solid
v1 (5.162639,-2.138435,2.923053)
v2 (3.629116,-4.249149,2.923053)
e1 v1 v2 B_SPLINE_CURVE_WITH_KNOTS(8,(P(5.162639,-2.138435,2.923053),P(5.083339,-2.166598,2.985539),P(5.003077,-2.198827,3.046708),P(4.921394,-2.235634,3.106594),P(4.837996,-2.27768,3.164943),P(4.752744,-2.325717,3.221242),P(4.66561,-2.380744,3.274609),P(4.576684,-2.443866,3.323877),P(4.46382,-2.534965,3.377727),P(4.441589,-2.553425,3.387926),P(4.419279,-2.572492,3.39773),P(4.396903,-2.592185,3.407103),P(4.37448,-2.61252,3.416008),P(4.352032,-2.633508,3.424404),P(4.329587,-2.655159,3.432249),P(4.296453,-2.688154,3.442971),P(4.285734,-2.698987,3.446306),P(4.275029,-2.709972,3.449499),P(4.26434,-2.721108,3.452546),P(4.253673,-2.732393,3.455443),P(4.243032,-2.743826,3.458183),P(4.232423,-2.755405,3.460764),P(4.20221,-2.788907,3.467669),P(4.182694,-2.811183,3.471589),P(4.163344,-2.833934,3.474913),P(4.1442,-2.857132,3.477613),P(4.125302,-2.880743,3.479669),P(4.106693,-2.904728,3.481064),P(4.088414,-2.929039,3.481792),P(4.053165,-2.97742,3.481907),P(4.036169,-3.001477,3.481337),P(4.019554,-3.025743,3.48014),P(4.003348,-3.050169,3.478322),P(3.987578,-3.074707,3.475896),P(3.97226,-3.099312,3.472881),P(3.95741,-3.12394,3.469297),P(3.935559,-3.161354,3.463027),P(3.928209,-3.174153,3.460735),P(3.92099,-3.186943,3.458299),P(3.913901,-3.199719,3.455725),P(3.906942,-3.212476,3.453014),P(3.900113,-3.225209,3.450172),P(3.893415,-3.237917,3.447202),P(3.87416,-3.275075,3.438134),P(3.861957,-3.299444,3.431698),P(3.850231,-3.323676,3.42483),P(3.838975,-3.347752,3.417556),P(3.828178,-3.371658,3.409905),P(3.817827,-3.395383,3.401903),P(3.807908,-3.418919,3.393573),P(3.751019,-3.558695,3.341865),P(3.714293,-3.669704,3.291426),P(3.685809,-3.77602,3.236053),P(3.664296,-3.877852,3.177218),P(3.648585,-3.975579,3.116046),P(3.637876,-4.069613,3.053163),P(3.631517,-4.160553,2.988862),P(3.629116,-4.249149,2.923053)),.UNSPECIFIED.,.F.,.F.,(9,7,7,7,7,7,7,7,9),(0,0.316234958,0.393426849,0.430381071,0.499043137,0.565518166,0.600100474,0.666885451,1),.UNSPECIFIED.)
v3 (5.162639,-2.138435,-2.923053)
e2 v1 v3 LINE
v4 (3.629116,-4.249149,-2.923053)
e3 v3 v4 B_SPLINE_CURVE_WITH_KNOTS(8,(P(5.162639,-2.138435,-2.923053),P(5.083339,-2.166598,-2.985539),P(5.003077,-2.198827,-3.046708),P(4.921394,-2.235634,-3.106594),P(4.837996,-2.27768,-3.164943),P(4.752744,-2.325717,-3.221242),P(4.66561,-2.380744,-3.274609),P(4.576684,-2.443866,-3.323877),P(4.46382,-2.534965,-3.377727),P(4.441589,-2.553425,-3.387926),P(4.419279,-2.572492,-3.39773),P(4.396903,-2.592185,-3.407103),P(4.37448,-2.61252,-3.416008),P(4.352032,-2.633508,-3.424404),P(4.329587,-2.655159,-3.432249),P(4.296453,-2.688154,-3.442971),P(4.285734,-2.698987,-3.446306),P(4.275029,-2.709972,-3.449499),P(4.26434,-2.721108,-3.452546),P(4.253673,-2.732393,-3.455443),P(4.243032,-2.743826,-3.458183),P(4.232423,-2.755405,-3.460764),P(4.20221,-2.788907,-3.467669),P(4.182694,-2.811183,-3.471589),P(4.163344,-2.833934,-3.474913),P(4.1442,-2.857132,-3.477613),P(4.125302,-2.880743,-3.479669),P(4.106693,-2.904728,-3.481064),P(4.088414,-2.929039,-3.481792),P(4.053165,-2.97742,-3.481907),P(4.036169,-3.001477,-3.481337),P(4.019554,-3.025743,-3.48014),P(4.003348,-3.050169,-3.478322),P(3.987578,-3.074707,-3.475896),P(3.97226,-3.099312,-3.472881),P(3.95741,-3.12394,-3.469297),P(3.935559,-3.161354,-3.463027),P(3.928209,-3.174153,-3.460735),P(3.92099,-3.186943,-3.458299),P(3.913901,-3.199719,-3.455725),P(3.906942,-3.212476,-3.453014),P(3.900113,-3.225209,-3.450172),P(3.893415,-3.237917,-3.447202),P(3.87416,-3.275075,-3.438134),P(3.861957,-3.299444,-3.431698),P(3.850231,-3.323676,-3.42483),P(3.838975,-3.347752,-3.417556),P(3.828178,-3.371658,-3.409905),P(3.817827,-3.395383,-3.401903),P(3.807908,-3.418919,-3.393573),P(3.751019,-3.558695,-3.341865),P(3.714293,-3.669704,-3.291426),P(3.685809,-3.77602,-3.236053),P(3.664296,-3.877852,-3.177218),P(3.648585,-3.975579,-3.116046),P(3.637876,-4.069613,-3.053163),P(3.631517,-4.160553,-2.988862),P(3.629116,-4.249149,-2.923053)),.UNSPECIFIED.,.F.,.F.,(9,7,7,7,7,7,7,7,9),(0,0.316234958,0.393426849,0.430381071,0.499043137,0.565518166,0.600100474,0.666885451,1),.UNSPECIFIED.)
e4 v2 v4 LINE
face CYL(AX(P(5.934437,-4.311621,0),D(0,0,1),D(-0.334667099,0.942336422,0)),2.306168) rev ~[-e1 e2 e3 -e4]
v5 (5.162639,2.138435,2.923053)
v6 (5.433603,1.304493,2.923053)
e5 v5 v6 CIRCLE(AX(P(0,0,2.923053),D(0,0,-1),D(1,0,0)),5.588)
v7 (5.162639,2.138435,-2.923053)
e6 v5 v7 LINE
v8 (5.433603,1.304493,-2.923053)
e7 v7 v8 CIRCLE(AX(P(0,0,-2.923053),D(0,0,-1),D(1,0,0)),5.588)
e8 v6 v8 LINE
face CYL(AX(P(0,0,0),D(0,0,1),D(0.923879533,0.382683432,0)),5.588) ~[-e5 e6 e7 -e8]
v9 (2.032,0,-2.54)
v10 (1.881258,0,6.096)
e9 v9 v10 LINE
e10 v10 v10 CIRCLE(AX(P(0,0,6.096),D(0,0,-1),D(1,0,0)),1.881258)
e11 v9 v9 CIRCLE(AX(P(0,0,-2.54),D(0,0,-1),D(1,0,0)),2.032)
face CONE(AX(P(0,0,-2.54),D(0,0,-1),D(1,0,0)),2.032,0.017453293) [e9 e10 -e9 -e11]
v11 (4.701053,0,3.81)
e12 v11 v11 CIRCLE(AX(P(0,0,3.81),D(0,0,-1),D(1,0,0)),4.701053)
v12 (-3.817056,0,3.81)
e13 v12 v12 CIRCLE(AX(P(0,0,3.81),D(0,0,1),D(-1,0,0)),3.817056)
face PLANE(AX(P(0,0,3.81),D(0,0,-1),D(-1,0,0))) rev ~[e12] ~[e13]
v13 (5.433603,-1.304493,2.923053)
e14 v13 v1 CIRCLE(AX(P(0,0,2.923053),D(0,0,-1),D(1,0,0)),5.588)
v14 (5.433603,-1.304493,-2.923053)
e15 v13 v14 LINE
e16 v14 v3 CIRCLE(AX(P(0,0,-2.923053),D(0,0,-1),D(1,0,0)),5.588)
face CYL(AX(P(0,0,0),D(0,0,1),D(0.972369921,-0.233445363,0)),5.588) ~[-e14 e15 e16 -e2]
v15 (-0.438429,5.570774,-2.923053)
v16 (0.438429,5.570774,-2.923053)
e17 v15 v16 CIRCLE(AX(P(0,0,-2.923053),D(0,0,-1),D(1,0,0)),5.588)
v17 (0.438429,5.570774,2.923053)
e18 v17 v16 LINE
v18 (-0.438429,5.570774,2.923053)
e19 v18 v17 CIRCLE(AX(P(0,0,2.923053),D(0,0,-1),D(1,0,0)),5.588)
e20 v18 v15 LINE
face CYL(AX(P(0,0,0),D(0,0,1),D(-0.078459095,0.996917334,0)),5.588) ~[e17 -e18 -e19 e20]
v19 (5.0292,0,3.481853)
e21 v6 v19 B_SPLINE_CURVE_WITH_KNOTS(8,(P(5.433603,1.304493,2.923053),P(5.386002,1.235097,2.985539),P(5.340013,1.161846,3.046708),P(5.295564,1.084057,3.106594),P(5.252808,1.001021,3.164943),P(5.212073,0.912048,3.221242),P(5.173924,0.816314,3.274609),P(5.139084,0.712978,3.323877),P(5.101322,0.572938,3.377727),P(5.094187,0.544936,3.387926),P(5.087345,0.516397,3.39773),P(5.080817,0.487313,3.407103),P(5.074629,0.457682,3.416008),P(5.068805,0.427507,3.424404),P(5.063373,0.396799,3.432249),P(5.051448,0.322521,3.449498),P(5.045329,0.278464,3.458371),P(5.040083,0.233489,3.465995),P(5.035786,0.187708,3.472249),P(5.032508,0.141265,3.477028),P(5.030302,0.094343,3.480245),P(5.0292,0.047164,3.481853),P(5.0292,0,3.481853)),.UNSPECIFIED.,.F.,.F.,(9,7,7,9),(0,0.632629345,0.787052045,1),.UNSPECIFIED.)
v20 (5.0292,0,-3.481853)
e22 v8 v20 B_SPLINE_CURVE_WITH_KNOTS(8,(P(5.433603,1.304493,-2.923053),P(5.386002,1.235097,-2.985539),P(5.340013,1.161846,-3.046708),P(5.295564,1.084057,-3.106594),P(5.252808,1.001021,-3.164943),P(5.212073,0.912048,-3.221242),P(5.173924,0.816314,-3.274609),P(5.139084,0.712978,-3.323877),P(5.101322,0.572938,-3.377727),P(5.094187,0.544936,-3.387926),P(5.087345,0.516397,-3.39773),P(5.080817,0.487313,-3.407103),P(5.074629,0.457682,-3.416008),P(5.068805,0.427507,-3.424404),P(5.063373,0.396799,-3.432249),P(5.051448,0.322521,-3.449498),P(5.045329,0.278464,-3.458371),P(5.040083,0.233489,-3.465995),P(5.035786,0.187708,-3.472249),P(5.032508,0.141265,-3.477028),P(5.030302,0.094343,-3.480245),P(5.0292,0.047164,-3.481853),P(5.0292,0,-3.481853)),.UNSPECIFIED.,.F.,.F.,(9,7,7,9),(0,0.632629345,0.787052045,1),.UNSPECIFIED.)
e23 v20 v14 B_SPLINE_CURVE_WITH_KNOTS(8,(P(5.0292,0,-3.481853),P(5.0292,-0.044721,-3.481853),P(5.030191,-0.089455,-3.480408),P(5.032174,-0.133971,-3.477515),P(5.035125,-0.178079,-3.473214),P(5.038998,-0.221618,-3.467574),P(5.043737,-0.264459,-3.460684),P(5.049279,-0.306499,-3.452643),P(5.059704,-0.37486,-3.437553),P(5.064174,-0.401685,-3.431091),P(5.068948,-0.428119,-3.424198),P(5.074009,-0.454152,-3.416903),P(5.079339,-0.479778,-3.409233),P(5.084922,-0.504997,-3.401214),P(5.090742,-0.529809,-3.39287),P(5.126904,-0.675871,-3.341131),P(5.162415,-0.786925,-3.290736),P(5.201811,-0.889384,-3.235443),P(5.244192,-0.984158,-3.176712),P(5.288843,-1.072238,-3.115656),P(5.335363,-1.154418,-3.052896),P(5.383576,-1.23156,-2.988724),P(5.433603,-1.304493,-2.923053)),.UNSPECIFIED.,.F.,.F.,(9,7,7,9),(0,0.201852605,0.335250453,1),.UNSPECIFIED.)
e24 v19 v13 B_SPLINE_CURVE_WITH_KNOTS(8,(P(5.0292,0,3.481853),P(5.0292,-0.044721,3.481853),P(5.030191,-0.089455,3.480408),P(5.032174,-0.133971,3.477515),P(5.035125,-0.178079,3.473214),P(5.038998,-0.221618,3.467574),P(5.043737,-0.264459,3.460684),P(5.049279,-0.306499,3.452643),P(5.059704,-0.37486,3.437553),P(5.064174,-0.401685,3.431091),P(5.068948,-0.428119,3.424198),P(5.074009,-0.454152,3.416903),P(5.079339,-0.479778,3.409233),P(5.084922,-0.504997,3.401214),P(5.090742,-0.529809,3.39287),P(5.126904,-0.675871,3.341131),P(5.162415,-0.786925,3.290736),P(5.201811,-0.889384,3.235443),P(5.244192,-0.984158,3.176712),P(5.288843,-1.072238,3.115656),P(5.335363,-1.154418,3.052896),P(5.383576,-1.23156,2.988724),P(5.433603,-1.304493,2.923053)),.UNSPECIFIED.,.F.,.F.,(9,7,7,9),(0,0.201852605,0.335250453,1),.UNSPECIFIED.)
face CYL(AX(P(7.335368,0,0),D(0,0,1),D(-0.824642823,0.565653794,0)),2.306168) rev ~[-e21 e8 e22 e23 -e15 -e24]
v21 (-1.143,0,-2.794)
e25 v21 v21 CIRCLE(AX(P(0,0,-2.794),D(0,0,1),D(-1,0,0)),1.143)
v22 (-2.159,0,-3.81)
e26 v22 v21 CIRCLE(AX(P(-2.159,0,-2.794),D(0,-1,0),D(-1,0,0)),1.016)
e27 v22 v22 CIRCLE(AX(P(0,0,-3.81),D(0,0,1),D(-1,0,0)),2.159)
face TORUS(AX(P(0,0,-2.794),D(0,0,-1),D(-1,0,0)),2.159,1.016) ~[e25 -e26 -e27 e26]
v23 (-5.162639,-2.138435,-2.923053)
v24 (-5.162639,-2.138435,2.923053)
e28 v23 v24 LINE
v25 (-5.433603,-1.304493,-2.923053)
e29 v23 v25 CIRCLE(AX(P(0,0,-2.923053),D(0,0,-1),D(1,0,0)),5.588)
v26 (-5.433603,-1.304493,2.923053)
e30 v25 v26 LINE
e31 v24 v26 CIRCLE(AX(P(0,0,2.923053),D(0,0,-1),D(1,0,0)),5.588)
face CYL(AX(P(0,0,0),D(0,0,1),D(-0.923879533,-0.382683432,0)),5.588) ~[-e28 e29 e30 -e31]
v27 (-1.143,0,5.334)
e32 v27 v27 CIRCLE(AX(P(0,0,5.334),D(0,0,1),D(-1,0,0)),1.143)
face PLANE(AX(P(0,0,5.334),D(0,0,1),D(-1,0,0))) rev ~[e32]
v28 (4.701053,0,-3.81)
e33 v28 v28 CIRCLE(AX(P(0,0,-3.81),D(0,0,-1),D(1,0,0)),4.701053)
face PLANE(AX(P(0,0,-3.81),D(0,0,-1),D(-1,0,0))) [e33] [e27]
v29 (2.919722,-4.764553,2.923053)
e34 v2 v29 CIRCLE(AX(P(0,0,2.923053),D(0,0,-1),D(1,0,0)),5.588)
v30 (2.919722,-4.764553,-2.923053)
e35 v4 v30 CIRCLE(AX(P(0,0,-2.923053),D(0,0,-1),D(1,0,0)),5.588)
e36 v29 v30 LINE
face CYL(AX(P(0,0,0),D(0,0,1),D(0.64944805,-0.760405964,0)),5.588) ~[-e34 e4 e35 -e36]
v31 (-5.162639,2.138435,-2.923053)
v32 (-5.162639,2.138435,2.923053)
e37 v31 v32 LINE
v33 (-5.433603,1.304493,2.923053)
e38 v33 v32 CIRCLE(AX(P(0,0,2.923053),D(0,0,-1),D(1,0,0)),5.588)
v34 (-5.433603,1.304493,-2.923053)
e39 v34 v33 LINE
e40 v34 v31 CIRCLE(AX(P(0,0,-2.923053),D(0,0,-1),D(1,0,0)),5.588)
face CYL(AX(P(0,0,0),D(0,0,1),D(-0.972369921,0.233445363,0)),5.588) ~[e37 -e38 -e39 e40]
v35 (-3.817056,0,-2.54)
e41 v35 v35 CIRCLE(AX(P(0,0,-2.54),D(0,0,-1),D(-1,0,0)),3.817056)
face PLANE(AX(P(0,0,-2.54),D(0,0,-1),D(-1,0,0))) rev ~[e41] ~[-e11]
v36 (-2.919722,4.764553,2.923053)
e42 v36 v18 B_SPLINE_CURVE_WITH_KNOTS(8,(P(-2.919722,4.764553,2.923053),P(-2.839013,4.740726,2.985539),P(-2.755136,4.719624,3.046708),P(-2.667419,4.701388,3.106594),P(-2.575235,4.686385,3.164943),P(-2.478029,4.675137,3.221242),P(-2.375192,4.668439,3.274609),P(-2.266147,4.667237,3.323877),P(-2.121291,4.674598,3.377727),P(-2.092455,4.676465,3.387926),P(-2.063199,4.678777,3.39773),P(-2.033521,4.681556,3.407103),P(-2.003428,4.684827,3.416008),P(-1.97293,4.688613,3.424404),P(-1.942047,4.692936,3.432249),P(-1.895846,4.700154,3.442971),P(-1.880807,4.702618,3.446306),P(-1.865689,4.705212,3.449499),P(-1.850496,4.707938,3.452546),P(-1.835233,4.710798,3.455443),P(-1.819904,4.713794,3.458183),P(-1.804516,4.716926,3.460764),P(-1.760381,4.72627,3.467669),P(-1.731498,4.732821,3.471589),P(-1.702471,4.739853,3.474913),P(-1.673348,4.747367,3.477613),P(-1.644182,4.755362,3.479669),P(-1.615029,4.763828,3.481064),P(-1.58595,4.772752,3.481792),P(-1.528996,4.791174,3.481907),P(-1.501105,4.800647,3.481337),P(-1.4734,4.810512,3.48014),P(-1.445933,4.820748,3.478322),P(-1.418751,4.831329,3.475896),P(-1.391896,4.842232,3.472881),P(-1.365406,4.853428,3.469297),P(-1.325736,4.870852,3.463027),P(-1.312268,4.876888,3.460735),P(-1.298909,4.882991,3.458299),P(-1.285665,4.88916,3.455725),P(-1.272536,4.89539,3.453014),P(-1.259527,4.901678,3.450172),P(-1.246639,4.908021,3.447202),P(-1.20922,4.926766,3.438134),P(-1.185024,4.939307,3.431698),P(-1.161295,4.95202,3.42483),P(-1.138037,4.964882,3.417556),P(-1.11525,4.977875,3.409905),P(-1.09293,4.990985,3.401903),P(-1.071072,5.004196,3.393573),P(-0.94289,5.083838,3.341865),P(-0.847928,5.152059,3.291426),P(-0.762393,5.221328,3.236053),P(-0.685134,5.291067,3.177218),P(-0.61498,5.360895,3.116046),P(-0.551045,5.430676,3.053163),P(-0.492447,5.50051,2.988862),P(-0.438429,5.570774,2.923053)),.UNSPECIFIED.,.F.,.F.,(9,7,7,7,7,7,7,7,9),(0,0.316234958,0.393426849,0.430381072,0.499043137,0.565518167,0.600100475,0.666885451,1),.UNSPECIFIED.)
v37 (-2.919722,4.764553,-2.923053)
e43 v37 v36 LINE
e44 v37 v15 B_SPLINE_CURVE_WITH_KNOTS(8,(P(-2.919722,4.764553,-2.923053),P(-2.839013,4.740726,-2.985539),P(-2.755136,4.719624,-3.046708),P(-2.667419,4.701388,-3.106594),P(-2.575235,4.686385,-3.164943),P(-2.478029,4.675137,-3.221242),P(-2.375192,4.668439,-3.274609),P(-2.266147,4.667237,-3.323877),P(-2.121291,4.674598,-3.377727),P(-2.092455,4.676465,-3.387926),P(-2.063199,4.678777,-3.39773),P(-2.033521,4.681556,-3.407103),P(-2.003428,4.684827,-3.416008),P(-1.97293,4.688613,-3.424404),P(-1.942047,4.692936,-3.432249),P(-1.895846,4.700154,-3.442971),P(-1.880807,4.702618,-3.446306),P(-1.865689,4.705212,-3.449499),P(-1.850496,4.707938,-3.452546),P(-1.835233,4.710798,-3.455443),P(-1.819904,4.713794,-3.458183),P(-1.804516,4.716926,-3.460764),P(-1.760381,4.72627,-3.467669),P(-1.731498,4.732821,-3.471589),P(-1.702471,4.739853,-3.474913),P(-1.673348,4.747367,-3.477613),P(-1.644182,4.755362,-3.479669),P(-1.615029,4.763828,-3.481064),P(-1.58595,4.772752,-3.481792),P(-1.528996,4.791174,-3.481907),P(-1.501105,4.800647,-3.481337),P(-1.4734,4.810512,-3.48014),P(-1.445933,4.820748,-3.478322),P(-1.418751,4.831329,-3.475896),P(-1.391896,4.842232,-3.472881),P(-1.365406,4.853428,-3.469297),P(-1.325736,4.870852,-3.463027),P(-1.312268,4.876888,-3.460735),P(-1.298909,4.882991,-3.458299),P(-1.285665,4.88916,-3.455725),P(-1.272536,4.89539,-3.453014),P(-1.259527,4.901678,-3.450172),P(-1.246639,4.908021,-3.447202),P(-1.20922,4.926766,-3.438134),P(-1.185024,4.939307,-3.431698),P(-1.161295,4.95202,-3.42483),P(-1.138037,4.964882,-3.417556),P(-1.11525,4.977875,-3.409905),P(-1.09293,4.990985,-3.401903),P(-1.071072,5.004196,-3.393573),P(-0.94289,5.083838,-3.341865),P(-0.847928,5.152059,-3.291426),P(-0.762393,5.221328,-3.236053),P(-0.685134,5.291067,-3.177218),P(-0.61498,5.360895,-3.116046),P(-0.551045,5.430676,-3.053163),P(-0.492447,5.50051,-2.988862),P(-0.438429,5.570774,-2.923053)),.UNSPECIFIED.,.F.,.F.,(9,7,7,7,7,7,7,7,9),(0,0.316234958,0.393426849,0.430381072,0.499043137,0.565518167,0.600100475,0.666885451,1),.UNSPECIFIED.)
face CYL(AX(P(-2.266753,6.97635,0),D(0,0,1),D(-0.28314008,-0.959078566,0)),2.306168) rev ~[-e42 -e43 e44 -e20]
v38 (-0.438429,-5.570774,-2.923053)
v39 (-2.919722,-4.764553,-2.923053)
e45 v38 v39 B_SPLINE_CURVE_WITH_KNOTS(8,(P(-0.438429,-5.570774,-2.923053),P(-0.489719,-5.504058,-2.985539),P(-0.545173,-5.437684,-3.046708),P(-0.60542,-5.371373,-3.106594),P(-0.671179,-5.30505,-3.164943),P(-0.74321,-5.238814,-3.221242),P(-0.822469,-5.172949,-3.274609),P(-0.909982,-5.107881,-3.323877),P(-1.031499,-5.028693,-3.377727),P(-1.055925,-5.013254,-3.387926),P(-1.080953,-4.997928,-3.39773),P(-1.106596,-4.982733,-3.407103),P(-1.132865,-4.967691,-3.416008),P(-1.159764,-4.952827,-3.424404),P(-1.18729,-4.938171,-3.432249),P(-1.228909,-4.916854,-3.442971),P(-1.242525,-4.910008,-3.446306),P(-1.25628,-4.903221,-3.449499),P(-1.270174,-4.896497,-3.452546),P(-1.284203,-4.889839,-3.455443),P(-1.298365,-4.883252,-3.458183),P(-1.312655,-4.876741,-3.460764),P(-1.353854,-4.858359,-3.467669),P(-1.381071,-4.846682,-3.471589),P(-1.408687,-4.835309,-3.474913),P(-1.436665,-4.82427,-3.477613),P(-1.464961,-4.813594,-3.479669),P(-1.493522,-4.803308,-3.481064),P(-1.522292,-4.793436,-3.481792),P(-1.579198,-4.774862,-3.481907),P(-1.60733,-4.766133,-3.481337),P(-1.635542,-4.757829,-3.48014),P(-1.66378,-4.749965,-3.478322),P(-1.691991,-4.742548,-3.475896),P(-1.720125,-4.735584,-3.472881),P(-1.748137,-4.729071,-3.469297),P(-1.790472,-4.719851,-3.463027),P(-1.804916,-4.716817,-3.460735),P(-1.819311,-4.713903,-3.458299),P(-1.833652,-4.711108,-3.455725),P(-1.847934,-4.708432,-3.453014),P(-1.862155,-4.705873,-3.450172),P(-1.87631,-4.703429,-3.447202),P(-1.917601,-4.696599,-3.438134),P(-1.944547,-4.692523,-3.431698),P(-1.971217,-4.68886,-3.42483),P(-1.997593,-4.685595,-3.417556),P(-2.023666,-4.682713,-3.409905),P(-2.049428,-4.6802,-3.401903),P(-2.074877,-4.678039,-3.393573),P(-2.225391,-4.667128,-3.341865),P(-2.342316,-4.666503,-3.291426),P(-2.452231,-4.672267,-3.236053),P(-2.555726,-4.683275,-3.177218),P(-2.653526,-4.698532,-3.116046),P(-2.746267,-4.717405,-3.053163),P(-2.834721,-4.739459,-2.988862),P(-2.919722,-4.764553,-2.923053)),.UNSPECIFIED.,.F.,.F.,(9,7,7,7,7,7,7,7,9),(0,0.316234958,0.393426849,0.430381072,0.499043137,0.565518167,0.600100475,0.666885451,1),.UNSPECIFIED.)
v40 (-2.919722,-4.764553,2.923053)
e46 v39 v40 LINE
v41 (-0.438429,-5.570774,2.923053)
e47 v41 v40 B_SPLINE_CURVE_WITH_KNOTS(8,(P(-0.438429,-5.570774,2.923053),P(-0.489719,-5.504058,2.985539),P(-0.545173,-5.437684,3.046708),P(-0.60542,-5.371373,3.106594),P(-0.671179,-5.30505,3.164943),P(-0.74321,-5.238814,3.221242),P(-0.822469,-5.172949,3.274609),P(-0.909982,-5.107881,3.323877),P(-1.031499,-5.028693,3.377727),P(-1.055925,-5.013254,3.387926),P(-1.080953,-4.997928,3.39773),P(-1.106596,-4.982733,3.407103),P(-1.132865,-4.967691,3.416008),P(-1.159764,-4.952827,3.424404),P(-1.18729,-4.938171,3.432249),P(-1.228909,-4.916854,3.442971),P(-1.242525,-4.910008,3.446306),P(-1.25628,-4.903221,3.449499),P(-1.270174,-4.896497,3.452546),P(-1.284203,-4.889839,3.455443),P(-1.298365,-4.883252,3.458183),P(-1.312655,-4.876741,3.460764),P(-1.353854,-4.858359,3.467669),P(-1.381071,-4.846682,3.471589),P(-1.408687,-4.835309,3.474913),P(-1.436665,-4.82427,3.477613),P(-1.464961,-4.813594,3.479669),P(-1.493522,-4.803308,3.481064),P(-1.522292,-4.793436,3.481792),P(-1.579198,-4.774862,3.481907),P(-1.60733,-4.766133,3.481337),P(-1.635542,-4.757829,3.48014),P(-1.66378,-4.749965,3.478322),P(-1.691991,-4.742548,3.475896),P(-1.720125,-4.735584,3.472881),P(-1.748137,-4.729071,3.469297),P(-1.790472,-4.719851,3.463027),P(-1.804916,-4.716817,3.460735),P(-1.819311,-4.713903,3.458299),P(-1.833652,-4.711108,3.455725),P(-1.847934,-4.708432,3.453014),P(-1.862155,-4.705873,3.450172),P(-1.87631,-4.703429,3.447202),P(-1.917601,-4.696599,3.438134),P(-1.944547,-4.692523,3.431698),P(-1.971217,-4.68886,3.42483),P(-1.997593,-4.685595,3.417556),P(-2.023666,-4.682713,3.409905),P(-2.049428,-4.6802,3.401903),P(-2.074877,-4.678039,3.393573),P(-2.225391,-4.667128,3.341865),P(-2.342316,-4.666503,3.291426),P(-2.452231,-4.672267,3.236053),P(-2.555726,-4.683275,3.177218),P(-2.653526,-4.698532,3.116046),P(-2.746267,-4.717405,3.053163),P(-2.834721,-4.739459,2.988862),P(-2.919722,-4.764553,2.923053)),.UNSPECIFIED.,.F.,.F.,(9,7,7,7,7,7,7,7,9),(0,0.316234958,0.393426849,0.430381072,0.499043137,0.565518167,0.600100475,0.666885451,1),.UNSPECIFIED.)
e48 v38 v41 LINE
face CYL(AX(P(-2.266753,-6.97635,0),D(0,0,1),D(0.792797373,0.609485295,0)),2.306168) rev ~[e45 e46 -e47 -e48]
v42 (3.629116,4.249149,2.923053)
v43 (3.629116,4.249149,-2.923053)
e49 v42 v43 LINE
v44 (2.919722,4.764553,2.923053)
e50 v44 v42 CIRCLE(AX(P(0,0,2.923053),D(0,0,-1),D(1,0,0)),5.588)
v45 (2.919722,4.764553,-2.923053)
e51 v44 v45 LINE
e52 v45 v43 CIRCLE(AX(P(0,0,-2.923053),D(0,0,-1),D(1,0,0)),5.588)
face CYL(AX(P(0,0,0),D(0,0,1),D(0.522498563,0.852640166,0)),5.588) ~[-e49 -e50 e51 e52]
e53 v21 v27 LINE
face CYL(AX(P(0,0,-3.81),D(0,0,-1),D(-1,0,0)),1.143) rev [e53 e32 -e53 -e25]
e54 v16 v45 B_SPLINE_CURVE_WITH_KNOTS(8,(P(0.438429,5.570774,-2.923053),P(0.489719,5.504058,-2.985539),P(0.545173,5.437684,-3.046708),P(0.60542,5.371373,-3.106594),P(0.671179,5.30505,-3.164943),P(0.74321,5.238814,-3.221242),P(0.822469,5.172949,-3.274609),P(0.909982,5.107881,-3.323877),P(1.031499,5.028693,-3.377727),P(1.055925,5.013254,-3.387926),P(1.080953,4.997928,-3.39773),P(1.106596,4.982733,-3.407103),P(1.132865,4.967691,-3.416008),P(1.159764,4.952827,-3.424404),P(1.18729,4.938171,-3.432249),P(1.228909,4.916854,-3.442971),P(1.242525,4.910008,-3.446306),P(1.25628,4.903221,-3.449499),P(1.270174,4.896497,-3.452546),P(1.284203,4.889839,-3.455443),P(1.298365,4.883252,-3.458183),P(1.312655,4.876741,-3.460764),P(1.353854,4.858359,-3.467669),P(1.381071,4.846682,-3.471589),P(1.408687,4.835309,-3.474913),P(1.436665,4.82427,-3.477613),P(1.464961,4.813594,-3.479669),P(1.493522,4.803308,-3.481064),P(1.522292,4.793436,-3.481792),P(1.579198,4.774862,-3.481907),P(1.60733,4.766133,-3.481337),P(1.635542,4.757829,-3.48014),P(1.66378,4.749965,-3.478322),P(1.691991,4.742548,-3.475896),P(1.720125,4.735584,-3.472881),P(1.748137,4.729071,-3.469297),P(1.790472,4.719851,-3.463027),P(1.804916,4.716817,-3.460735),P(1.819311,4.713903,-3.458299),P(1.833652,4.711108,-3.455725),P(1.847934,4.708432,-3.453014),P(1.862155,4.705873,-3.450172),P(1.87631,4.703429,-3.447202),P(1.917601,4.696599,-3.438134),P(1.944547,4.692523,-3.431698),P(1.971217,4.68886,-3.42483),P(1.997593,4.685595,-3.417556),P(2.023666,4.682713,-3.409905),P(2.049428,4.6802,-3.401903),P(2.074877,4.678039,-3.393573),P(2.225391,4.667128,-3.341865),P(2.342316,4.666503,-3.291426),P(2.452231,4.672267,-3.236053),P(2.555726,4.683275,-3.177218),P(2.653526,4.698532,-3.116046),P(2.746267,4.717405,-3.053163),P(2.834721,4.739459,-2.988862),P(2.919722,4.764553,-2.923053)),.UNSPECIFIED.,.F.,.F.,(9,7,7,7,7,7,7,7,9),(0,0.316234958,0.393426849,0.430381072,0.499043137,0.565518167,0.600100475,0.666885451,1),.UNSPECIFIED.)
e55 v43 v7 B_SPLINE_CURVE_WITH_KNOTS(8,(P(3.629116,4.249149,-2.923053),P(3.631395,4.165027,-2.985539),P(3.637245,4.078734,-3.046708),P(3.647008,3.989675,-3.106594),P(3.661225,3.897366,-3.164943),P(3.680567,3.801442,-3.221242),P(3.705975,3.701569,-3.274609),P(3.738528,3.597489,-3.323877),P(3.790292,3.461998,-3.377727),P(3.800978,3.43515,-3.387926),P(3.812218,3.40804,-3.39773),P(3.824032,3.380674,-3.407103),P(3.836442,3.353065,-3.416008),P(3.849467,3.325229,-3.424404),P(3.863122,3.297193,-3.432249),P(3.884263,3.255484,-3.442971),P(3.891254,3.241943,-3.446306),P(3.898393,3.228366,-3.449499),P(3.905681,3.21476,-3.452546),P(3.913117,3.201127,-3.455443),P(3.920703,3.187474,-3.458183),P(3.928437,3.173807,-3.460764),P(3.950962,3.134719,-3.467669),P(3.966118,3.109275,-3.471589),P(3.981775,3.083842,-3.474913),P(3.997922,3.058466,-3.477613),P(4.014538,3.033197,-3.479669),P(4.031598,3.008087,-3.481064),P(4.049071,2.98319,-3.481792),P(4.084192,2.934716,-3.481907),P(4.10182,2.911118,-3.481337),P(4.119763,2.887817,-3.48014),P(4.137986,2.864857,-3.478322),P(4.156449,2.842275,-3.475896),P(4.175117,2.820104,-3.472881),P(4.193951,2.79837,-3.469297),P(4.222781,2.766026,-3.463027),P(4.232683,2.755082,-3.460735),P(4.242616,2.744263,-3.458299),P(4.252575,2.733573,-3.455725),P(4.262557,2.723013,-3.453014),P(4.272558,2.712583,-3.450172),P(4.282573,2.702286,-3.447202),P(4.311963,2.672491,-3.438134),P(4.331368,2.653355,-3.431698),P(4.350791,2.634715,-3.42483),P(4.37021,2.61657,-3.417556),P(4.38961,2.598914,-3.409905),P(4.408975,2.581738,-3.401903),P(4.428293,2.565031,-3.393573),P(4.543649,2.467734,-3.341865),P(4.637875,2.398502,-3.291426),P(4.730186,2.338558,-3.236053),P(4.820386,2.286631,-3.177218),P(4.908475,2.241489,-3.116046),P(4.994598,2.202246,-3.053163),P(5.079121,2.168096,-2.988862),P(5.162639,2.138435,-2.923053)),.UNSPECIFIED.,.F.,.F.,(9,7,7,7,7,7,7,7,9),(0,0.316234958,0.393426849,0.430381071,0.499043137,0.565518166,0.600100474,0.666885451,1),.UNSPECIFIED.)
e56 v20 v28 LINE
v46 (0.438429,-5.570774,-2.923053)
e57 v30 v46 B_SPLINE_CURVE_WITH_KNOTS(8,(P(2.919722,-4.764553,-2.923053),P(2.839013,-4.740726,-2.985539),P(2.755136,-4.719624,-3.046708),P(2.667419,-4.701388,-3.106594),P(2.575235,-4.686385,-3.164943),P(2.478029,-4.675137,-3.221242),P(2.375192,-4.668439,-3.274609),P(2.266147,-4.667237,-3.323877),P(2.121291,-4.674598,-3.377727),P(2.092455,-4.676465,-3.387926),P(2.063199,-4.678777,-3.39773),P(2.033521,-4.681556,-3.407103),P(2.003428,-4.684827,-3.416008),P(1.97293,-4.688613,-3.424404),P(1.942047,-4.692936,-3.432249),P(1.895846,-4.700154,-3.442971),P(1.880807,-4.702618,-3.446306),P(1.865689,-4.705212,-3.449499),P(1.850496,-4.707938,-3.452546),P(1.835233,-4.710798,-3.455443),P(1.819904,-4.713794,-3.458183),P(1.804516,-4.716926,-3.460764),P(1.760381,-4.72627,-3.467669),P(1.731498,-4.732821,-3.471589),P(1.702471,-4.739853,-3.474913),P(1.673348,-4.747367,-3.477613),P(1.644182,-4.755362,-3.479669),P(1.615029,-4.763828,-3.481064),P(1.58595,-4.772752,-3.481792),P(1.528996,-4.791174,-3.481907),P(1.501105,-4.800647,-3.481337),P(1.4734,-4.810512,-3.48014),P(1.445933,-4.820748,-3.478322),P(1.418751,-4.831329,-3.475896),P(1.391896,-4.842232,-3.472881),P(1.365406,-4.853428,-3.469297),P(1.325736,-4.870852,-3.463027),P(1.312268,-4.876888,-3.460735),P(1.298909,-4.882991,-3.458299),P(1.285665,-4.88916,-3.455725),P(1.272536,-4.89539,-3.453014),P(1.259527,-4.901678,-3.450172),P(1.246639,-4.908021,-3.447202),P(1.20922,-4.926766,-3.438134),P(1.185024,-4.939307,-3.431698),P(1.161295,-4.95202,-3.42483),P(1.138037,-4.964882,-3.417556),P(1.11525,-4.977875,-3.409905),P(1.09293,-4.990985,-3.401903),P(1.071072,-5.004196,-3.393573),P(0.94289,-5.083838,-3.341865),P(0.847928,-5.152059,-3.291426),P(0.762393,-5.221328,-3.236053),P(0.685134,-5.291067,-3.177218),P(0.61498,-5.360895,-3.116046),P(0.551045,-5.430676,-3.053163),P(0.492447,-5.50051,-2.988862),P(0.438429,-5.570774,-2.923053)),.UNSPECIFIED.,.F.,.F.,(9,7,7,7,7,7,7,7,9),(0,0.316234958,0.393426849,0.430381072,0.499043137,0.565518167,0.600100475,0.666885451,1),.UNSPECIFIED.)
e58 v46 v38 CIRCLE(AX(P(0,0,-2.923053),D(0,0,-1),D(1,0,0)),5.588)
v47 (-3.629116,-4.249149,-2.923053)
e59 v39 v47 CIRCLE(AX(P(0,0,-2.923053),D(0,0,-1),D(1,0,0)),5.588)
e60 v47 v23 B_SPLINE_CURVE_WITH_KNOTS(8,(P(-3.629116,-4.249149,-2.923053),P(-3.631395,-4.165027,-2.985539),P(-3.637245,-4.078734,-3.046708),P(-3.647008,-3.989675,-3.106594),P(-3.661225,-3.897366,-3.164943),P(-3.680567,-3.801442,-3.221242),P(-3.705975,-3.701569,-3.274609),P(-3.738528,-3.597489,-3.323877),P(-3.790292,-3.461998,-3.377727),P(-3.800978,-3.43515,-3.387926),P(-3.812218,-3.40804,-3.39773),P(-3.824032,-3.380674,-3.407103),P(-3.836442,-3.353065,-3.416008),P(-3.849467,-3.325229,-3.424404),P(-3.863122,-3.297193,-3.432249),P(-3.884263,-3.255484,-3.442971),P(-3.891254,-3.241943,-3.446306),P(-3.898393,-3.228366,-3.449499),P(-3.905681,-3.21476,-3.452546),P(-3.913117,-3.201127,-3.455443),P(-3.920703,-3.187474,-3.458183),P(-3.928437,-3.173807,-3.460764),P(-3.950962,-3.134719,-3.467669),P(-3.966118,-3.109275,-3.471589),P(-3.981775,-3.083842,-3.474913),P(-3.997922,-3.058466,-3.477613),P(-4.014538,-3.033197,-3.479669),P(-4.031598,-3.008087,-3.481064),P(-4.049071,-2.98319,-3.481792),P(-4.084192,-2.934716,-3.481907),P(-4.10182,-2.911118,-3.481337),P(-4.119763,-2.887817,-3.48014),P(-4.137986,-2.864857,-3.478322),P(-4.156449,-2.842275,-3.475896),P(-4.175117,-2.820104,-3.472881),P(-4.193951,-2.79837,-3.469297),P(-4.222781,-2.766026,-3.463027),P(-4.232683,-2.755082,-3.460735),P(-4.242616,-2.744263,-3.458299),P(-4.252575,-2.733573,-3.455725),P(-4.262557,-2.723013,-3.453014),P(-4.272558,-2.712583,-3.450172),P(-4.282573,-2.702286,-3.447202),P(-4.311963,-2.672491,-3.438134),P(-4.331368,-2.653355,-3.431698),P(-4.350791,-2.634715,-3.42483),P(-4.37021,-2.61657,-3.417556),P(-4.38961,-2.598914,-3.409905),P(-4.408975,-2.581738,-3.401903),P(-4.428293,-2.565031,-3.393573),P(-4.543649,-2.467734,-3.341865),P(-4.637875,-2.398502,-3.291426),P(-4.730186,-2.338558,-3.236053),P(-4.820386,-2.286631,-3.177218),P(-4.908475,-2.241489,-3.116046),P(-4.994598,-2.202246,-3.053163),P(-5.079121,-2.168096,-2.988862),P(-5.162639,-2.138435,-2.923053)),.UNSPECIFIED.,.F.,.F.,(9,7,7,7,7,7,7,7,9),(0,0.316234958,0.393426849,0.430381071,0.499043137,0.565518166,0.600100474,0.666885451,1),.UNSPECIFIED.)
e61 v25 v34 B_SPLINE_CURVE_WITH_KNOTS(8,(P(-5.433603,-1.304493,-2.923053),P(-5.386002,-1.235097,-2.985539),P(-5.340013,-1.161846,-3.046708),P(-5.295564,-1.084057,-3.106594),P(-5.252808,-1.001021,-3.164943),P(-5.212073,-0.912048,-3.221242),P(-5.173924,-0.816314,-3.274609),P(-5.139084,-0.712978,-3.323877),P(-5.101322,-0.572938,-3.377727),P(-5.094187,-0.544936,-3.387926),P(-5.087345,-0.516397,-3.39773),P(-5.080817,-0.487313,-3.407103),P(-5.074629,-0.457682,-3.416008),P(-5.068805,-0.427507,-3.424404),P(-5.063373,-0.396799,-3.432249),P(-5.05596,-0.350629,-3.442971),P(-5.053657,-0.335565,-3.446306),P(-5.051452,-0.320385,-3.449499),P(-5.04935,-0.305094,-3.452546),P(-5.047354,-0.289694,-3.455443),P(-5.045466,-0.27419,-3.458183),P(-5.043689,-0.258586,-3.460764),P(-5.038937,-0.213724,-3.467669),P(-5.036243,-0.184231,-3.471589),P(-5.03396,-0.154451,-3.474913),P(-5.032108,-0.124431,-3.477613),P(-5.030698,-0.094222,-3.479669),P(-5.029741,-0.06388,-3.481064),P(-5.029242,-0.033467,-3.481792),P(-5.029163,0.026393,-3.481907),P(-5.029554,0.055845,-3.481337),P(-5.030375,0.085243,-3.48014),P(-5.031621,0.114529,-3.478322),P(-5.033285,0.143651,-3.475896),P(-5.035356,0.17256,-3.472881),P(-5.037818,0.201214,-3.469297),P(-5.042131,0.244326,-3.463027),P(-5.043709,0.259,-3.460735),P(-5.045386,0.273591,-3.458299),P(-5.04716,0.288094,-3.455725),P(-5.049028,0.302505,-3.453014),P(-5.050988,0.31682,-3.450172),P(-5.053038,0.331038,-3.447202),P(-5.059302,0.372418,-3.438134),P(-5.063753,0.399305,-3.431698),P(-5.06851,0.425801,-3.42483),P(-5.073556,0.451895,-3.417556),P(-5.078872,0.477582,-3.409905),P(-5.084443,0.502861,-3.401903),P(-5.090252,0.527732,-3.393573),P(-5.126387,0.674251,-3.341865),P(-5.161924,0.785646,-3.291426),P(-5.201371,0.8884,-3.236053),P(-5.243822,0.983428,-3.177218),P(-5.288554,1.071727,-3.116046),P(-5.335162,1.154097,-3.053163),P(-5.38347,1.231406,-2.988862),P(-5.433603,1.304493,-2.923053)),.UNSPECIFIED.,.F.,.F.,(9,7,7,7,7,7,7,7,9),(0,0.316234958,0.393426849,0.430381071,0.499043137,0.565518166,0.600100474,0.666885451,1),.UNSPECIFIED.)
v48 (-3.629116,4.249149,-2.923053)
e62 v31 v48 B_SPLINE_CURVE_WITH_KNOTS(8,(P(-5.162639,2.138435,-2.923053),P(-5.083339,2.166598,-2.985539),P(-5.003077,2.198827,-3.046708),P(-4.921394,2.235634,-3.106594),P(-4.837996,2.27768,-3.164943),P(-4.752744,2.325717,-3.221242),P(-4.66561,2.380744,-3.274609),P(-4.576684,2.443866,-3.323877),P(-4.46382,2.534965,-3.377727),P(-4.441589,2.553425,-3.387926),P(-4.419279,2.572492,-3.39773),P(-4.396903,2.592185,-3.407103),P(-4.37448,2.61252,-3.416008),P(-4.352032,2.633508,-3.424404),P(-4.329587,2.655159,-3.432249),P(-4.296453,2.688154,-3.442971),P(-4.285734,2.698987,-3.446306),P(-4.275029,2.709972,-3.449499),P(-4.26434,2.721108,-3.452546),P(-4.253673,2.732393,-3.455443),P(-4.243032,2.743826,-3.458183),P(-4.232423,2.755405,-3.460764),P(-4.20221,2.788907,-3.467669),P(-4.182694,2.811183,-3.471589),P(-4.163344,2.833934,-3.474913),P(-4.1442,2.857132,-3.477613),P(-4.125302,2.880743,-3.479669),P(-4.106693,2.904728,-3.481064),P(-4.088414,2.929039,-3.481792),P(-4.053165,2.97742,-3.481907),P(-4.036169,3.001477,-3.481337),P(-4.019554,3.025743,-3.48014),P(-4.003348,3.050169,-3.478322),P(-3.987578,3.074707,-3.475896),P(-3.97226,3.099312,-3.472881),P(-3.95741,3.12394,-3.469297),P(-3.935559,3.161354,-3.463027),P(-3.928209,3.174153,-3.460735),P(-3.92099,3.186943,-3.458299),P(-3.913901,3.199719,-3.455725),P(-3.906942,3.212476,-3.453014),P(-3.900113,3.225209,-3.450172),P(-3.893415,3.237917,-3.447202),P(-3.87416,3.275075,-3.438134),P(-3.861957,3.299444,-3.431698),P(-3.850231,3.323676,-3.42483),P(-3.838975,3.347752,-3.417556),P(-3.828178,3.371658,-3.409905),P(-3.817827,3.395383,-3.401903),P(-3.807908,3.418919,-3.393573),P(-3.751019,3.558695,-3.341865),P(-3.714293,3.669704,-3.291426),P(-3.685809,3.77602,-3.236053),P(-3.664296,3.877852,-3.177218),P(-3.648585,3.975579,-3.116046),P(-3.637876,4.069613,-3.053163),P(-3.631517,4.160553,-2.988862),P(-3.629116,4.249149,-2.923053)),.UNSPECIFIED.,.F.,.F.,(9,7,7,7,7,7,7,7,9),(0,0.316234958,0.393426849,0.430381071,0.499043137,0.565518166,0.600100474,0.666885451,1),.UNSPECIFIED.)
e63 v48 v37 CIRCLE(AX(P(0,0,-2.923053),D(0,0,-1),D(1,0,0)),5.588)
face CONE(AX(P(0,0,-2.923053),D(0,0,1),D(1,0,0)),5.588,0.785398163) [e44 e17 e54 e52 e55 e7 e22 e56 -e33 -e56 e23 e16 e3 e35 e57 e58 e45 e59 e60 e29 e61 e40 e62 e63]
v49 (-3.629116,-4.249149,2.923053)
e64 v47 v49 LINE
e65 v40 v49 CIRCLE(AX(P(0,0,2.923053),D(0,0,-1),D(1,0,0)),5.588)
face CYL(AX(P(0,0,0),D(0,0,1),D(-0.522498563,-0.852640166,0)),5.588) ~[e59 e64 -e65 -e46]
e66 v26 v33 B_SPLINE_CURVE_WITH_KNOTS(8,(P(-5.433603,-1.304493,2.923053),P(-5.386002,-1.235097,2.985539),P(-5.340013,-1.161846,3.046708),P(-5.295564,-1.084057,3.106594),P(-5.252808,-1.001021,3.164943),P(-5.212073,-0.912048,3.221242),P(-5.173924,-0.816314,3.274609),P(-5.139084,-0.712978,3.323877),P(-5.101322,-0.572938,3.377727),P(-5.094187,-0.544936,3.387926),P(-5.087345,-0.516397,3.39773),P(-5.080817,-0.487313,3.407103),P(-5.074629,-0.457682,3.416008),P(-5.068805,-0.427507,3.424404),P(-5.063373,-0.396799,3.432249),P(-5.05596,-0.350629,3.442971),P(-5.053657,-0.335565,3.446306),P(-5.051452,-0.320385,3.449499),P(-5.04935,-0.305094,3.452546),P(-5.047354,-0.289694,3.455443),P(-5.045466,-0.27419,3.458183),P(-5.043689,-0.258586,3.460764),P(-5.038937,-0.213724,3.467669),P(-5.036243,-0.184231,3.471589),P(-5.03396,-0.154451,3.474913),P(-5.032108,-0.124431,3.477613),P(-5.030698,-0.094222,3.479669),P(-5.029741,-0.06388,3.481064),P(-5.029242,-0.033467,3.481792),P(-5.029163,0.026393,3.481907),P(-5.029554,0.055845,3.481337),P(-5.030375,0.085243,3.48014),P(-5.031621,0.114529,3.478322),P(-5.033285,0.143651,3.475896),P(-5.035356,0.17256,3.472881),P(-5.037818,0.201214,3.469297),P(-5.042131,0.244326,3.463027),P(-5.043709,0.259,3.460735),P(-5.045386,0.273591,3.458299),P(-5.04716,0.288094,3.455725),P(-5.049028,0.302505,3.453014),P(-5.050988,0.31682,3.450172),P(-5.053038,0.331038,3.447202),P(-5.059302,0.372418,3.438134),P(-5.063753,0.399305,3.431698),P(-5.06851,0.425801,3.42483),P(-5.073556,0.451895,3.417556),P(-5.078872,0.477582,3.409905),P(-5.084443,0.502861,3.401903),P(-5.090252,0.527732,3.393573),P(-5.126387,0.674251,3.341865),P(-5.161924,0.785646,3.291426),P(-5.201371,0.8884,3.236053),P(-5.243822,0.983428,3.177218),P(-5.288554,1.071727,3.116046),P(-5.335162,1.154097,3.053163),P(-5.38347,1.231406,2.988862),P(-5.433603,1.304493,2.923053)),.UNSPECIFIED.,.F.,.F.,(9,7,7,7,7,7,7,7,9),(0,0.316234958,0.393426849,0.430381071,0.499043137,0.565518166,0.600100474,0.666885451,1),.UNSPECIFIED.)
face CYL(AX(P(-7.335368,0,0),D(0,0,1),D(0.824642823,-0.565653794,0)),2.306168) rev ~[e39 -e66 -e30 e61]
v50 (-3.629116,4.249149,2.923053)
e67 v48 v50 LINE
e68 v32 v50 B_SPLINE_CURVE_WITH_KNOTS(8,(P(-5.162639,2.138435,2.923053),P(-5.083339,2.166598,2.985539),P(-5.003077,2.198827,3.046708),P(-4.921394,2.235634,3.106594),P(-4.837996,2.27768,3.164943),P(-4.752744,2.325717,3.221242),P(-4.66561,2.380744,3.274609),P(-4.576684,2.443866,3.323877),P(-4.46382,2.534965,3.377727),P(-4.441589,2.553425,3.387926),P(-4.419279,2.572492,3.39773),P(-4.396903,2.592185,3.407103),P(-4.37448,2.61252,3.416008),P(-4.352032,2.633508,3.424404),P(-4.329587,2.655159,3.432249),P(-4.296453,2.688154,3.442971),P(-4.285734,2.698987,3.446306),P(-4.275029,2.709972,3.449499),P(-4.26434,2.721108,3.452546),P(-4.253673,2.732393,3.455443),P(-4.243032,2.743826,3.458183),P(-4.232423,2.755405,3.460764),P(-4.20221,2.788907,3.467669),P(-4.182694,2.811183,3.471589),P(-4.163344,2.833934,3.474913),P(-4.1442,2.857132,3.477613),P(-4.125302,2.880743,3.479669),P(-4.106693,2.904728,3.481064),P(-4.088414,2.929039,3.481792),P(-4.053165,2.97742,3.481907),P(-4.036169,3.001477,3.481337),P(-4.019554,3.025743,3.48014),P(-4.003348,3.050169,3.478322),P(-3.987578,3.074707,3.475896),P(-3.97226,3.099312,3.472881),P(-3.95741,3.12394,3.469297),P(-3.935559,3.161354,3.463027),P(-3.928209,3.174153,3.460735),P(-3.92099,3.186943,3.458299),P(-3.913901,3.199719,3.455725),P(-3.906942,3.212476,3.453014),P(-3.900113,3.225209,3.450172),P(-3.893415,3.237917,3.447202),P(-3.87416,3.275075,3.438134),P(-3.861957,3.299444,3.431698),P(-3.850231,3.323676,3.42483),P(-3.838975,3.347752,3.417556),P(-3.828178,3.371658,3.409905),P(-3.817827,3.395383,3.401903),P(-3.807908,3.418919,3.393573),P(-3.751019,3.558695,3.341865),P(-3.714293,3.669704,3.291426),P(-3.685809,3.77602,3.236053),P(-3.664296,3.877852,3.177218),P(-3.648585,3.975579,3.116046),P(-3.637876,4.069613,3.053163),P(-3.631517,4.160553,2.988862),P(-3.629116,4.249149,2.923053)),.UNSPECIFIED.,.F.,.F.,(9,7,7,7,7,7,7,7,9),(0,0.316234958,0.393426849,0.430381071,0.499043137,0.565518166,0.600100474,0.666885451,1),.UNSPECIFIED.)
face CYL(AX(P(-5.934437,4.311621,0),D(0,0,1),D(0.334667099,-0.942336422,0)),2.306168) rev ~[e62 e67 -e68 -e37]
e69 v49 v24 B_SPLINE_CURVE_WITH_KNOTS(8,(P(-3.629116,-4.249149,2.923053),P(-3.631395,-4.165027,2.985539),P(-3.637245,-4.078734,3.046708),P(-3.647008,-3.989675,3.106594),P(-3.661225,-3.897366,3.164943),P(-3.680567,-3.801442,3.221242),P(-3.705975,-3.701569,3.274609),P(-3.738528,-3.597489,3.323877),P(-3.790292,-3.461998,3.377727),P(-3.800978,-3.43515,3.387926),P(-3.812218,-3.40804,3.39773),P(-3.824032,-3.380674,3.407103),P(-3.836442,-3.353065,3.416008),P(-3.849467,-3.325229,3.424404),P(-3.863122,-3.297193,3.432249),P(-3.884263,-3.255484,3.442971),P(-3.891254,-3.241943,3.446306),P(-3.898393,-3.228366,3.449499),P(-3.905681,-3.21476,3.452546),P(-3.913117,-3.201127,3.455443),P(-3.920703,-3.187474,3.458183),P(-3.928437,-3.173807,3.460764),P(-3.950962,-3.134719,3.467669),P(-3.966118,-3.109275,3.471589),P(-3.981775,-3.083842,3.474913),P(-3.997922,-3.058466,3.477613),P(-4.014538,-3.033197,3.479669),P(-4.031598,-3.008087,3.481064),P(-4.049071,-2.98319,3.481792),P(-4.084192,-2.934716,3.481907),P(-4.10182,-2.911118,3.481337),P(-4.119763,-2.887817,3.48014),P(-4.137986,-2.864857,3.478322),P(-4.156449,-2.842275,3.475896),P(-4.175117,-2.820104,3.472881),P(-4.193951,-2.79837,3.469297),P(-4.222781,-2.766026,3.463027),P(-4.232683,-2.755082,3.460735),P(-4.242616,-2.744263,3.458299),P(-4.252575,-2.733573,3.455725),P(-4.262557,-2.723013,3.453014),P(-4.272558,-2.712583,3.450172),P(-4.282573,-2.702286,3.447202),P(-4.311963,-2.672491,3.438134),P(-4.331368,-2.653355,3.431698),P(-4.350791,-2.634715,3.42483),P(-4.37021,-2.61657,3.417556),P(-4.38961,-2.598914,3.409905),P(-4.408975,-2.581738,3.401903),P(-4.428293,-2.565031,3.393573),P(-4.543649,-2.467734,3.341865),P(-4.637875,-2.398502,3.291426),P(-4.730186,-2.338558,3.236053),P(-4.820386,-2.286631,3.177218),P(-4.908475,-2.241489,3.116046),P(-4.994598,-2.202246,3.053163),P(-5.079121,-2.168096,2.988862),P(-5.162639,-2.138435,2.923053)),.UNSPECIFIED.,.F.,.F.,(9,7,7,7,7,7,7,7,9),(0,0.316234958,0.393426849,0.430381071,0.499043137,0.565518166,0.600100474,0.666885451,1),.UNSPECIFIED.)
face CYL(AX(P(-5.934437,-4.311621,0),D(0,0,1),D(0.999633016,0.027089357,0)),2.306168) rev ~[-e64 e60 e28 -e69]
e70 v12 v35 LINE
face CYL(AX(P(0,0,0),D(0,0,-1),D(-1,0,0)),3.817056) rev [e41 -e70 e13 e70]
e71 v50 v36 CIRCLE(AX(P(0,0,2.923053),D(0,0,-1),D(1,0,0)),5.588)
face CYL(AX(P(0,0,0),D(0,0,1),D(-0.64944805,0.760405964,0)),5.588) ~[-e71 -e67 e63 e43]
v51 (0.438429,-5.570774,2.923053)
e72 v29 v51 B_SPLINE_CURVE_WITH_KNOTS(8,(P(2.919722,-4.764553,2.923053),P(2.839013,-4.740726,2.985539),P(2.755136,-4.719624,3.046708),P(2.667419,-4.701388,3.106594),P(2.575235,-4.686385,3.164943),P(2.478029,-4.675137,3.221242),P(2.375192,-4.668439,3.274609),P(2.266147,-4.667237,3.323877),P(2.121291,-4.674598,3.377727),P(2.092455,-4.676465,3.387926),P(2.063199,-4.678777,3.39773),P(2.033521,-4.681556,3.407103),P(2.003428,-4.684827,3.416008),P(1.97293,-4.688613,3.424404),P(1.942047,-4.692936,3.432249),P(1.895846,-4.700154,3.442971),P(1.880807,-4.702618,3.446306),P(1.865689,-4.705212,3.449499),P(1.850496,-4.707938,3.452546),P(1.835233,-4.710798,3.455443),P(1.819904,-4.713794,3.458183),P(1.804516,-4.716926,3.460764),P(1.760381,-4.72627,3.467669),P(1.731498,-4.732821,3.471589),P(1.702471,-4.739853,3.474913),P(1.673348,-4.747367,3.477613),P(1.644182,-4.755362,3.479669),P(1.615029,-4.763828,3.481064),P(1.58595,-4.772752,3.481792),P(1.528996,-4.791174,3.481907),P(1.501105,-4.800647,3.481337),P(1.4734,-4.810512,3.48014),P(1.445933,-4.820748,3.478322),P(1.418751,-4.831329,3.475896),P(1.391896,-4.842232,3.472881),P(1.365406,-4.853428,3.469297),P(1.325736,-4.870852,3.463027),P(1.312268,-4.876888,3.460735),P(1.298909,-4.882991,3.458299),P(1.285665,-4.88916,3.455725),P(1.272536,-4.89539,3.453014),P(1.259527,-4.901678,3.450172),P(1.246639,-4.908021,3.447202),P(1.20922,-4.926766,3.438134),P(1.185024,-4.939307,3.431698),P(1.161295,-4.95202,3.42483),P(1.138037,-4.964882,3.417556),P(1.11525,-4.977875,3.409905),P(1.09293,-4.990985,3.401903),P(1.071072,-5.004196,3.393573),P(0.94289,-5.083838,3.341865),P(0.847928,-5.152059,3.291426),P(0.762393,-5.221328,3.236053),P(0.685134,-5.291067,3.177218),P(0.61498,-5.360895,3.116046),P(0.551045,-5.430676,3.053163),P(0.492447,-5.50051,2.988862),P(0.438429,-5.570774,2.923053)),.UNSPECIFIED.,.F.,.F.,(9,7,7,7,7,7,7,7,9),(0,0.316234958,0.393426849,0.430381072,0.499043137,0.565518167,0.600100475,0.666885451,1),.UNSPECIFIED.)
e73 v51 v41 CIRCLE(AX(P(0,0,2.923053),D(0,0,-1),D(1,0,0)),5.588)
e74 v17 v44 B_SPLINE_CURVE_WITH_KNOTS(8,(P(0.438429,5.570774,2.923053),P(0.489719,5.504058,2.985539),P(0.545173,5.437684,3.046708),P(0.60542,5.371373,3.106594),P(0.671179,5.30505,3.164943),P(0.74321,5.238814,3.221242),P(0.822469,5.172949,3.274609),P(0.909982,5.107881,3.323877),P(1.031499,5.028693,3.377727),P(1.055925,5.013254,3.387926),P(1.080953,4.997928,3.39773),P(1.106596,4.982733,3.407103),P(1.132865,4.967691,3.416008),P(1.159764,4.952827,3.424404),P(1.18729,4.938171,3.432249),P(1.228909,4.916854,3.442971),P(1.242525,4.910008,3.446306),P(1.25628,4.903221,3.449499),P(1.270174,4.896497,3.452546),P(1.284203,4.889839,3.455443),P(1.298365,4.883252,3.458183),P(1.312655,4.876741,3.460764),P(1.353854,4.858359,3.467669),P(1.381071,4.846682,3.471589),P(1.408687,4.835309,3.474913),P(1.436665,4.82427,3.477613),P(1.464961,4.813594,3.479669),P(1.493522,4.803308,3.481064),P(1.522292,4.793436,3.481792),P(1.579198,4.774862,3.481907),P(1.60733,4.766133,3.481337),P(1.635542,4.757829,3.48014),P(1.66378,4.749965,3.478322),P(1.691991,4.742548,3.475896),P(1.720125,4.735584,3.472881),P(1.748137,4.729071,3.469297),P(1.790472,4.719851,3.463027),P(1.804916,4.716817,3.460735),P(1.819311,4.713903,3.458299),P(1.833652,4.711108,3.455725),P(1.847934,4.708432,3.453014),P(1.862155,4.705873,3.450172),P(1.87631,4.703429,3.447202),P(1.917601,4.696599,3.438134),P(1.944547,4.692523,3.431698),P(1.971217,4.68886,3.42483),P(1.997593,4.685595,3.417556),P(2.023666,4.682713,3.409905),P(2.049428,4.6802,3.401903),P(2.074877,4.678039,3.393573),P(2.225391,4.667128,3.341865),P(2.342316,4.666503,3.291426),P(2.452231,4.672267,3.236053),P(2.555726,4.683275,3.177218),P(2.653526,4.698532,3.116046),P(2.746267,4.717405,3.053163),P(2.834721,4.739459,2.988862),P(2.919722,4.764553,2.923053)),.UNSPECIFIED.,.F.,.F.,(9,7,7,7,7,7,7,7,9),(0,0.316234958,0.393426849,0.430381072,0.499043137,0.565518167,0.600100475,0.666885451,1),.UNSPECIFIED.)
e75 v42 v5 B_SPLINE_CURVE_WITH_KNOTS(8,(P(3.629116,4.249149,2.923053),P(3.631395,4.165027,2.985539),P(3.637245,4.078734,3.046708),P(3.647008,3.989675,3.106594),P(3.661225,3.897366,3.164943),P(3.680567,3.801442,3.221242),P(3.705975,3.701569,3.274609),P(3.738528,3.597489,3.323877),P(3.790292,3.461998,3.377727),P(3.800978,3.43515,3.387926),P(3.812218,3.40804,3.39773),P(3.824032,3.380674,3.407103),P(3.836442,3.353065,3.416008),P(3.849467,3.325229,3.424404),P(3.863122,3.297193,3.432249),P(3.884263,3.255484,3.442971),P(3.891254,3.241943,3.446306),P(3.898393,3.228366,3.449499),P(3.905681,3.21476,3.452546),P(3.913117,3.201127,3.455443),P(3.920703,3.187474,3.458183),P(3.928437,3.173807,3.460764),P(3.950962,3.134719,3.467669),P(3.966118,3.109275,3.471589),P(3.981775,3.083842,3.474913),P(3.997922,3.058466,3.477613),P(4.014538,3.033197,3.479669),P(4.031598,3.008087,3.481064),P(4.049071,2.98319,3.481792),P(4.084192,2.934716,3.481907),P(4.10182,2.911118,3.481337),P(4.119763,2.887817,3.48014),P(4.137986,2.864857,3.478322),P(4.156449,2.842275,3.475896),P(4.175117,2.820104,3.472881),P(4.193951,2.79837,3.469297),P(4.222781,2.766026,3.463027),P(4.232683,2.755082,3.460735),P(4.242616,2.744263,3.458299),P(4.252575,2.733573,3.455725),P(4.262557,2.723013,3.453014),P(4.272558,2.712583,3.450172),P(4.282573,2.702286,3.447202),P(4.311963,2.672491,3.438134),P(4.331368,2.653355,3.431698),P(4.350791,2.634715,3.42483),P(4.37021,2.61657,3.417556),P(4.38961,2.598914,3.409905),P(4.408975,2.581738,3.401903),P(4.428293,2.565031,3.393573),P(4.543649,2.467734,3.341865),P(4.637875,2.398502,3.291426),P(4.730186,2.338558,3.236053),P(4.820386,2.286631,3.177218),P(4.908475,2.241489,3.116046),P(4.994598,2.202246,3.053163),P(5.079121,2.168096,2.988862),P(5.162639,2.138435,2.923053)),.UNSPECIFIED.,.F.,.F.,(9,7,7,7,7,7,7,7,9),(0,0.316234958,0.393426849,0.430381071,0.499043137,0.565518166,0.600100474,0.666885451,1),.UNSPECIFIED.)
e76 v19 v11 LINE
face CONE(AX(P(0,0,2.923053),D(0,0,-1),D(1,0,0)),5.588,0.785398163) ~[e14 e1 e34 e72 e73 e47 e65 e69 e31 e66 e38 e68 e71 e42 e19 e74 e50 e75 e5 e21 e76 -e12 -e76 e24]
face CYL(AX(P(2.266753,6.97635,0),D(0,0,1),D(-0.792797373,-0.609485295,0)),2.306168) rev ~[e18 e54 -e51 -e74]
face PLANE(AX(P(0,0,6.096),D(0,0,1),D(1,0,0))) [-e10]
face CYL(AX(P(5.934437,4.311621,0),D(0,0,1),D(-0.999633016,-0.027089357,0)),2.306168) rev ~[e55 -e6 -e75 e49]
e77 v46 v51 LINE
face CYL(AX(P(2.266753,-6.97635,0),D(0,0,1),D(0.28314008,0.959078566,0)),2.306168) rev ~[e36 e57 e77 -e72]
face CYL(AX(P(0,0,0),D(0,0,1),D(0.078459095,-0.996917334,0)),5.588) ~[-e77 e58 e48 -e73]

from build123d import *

# Parameters (mm, degrees)
SKETCH20_R          = 3.817056353
BOSS_EXTRUDE1_DEPTH = 3.81
BOSS_EXTRUDE2_START = -1.27
BOSS_EXTRUDE2_DEPTH = 1.27
SKETCH23_R          = 2.032
BOSS_EXTRUDE3_DEPTH = 8.636
BOSS_EXTRUDE3_TAPER = 1
SKETCH24_R          = 1.143
CUT_EXTRUDE1_DEPTH  = 9.144
FILLET1_R           = 1.016


with BuildPart() as part:
    # Sketch20 → Boss-Extrude1 (new, symmetric)
    with BuildSketch(Plane.XY):
        with BuildLine():
            ThreePointArc((-2.91972198, 4.764553238), (-1.554108268, 4.783053432), (-0.438429427, 5.570774061))
            ThreePointArc((-0.438429427, 5.570774061), (0, 5.588), (0.438429427, 5.570774061))
            ThreePointArc((0.438429427, 5.570774061), (1.554108268, 4.783053432), (2.91972198, 4.764553238))
            ThreePointArc((2.91972198, 4.764553238), (3.28454399, 4.520786965), (3.629115694, 4.249148536))
            ThreePointArc((3.629115694, 4.249148536), (4.068708268, 2.956089591), (5.162638828, 2.13843502))
            ThreePointArc((5.162638828, 2.13843502), (5.314503813, 1.726786965), (5.433603115, 1.304492693))
            ThreePointArc((5.433603115, 1.304492693), (5.0292, 0), (5.433603115, -1.304492693))
            ThreePointArc((5.433603115, -1.304492693), (5.314503813, -1.726786965), (5.162638828, -2.13843502))
            ThreePointArc((5.162638828, -2.13843502), (4.068708268, -2.956089591), (3.629115694, -4.249148536))
            ThreePointArc((3.629115694, -4.249148536), (3.28454399, -4.520786965), (2.91972198, -4.764553238))
            ThreePointArc((2.91972198, -4.764553238), (1.554108268, -4.783053432), (0.438429427, -5.570774061))
            ThreePointArc((0.438429427, -5.570774061), (0, -5.588), (-0.438429427, -5.570774061))
            ThreePointArc((-0.438429427, -5.570774061), (-1.554108268, -4.783053432), (-2.91972198, -4.764553238))
            ThreePointArc((-2.91972198, -4.764553238), (-3.28454399, -4.520786965), (-3.629115694, -4.249148536))
            ThreePointArc((-3.629115694, -4.249148536), (-4.068708268, -2.956089591), (-5.162638828, -2.13843502))
            ThreePointArc((-5.162638828, -2.13843502), (-5.314503813, -1.726786965), (-5.433603115, -1.304492693))
            ThreePointArc((-5.433603115, -1.304492693), (-5.0292, 0), (-5.433603115, 1.304492693))
            ThreePointArc((-5.433603115, 1.304492693), (-5.314503813, 1.726786965), (-5.162638828, 2.13843502))
            ThreePointArc((-5.162638828, 2.13843502), (-4.068708268, 2.956089591), (-3.629115694, 4.249148536))
            ThreePointArc((-3.629115694, 4.249148536), (-3.28454399, 4.520786965), (-2.91972198, 4.764553238))
        make_face()
        with Locations(Location((0, 0, 0), (0, 0, 180))):
            Circle(SKETCH20_R, mode=Mode.SUBTRACT)
    extrude(amount=BOSS_EXTRUDE1_DEPTH, both=True)

    # Sketch21 → Boss-Extrude2 (add)
    with BuildSketch(Plane(origin=(0, 0, -3.81), x_dir=(-1, 0, 0), z_dir=(0, 0, -1)).offset(BOSS_EXTRUDE2_START)):
        with BuildLine():
            ThreePointArc((3.629115694, 4.249148536), (3.28454399, 4.520786965), (2.91972198, 4.764553238))
            ThreePointArc((2.91972198, 4.764553238), (1.554108268, 4.783053432), (0.438429427, 5.570774061))
            ThreePointArc((0.438429427, 5.570774061), (0, 5.588), (-0.438429427, 5.570774061))
            ThreePointArc((-0.438429427, 5.570774061), (-1.554108268, 4.783053432), (-2.91972198, 4.764553238))
            ThreePointArc((-2.91972198, 4.764553238), (-3.28454399, 4.520786965), (-3.629115694, 4.249148536))
            ThreePointArc((-3.629115694, 4.249148536), (-4.068708268, 2.956089591), (-5.162638828, 2.13843502))
            ThreePointArc((-5.162638828, 2.13843502), (-5.314503813, 1.726786965), (-5.433603115, 1.304492693))
            ThreePointArc((-5.433603115, 1.304492693), (-5.0292, 0), (-5.433603115, -1.304492693))
            ThreePointArc((-5.433603115, -1.304492693), (-5.314503813, -1.726786965), (-5.162638828, -2.13843502))
            ThreePointArc((-5.162638828, -2.13843502), (-4.068708268, -2.956089591), (-3.629115694, -4.249148536))
            ThreePointArc((-3.629115694, -4.249148536), (-3.28454399, -4.520786965), (-2.91972198, -4.764553238))
            ThreePointArc((-2.91972198, -4.764553238), (-1.554108268, -4.783053432), (-0.438429427, -5.570774061))
            ThreePointArc((-0.438429427, -5.570774061), (0, -5.588), (0.438429427, -5.570774061))
            ThreePointArc((0.438429427, -5.570774061), (1.554108268, -4.783053432), (2.91972198, -4.764553238))
            ThreePointArc((2.91972198, -4.764553238), (3.28454399, -4.520786965), (3.629115694, -4.249148536))
            ThreePointArc((3.629115694, -4.249148536), (4.068708268, -2.956089591), (5.162638828, -2.13843502))
            ThreePointArc((5.162638828, -2.13843502), (5.314503813, -1.726786965), (5.433603115, -1.304492693))
            ThreePointArc((5.433603115, -1.304492693), (5.0292, 0), (5.433603115, 1.304492693))
            ThreePointArc((5.433603115, 1.304492693), (5.314503813, 1.726786965), (5.162638828, 2.13843502))
            ThreePointArc((5.162638828, 2.13843502), (4.068708268, 2.956089591), (3.629115694, 4.249148536))
        make_face()
    extrude(amount=BOSS_EXTRUDE2_DEPTH)

    # Sketch23 → Boss-Extrude3 (add)
    with BuildSketch(Plane.XY.offset(-2.54)):
        Circle(SKETCH23_R)
    extrude(amount=BOSS_EXTRUDE3_DEPTH, taper=BOSS_EXTRUDE3_TAPER)

    # Sketch24 → Cut-Extrude1 (cut)
    with BuildSketch(Plane.XY.offset(-3.81)):
        with Locations(Location((0, 0, 0), (0, 0, 180))):
            Circle(SKETCH24_R)
    extrude(amount=CUT_EXTRUDE1_DEPTH, mode=Mode.SUBTRACT)

    # Sketch25 → Cut-Revolve1 (revolve, cut)
    with BuildSketch(Plane(origin=(0, 0, 0), x_dir=(0, 0, -1), z_dir=(1, 0, 0)), mode=Mode.PRIVATE) as cut_revolve1_sk:
        Polygon((2.923053238, 5.588), (3.81, 4.701053238), (3.81, 5.588), align=None)
        Polygon((-3.81, 5.588), (-2.923053238, 5.588), (-3.81, 4.701053238), align=None)
    revolve(cut_revolve1_sk.sketch.rotate(Axis((0, 0, 0), (0, 0, -1)), 90), axis=Axis((0, 0, 0), (0, 0, -1)), mode=Mode.SUBTRACT)

    # Fillet1
    fillet1_edges = [part.edges().sort_by_distance(p)[0] for p in [
        (1.143, 0, -3.81),
    ]]
    fillet(fillet1_edges, radius=FILLET1_R)


solid = part.part
